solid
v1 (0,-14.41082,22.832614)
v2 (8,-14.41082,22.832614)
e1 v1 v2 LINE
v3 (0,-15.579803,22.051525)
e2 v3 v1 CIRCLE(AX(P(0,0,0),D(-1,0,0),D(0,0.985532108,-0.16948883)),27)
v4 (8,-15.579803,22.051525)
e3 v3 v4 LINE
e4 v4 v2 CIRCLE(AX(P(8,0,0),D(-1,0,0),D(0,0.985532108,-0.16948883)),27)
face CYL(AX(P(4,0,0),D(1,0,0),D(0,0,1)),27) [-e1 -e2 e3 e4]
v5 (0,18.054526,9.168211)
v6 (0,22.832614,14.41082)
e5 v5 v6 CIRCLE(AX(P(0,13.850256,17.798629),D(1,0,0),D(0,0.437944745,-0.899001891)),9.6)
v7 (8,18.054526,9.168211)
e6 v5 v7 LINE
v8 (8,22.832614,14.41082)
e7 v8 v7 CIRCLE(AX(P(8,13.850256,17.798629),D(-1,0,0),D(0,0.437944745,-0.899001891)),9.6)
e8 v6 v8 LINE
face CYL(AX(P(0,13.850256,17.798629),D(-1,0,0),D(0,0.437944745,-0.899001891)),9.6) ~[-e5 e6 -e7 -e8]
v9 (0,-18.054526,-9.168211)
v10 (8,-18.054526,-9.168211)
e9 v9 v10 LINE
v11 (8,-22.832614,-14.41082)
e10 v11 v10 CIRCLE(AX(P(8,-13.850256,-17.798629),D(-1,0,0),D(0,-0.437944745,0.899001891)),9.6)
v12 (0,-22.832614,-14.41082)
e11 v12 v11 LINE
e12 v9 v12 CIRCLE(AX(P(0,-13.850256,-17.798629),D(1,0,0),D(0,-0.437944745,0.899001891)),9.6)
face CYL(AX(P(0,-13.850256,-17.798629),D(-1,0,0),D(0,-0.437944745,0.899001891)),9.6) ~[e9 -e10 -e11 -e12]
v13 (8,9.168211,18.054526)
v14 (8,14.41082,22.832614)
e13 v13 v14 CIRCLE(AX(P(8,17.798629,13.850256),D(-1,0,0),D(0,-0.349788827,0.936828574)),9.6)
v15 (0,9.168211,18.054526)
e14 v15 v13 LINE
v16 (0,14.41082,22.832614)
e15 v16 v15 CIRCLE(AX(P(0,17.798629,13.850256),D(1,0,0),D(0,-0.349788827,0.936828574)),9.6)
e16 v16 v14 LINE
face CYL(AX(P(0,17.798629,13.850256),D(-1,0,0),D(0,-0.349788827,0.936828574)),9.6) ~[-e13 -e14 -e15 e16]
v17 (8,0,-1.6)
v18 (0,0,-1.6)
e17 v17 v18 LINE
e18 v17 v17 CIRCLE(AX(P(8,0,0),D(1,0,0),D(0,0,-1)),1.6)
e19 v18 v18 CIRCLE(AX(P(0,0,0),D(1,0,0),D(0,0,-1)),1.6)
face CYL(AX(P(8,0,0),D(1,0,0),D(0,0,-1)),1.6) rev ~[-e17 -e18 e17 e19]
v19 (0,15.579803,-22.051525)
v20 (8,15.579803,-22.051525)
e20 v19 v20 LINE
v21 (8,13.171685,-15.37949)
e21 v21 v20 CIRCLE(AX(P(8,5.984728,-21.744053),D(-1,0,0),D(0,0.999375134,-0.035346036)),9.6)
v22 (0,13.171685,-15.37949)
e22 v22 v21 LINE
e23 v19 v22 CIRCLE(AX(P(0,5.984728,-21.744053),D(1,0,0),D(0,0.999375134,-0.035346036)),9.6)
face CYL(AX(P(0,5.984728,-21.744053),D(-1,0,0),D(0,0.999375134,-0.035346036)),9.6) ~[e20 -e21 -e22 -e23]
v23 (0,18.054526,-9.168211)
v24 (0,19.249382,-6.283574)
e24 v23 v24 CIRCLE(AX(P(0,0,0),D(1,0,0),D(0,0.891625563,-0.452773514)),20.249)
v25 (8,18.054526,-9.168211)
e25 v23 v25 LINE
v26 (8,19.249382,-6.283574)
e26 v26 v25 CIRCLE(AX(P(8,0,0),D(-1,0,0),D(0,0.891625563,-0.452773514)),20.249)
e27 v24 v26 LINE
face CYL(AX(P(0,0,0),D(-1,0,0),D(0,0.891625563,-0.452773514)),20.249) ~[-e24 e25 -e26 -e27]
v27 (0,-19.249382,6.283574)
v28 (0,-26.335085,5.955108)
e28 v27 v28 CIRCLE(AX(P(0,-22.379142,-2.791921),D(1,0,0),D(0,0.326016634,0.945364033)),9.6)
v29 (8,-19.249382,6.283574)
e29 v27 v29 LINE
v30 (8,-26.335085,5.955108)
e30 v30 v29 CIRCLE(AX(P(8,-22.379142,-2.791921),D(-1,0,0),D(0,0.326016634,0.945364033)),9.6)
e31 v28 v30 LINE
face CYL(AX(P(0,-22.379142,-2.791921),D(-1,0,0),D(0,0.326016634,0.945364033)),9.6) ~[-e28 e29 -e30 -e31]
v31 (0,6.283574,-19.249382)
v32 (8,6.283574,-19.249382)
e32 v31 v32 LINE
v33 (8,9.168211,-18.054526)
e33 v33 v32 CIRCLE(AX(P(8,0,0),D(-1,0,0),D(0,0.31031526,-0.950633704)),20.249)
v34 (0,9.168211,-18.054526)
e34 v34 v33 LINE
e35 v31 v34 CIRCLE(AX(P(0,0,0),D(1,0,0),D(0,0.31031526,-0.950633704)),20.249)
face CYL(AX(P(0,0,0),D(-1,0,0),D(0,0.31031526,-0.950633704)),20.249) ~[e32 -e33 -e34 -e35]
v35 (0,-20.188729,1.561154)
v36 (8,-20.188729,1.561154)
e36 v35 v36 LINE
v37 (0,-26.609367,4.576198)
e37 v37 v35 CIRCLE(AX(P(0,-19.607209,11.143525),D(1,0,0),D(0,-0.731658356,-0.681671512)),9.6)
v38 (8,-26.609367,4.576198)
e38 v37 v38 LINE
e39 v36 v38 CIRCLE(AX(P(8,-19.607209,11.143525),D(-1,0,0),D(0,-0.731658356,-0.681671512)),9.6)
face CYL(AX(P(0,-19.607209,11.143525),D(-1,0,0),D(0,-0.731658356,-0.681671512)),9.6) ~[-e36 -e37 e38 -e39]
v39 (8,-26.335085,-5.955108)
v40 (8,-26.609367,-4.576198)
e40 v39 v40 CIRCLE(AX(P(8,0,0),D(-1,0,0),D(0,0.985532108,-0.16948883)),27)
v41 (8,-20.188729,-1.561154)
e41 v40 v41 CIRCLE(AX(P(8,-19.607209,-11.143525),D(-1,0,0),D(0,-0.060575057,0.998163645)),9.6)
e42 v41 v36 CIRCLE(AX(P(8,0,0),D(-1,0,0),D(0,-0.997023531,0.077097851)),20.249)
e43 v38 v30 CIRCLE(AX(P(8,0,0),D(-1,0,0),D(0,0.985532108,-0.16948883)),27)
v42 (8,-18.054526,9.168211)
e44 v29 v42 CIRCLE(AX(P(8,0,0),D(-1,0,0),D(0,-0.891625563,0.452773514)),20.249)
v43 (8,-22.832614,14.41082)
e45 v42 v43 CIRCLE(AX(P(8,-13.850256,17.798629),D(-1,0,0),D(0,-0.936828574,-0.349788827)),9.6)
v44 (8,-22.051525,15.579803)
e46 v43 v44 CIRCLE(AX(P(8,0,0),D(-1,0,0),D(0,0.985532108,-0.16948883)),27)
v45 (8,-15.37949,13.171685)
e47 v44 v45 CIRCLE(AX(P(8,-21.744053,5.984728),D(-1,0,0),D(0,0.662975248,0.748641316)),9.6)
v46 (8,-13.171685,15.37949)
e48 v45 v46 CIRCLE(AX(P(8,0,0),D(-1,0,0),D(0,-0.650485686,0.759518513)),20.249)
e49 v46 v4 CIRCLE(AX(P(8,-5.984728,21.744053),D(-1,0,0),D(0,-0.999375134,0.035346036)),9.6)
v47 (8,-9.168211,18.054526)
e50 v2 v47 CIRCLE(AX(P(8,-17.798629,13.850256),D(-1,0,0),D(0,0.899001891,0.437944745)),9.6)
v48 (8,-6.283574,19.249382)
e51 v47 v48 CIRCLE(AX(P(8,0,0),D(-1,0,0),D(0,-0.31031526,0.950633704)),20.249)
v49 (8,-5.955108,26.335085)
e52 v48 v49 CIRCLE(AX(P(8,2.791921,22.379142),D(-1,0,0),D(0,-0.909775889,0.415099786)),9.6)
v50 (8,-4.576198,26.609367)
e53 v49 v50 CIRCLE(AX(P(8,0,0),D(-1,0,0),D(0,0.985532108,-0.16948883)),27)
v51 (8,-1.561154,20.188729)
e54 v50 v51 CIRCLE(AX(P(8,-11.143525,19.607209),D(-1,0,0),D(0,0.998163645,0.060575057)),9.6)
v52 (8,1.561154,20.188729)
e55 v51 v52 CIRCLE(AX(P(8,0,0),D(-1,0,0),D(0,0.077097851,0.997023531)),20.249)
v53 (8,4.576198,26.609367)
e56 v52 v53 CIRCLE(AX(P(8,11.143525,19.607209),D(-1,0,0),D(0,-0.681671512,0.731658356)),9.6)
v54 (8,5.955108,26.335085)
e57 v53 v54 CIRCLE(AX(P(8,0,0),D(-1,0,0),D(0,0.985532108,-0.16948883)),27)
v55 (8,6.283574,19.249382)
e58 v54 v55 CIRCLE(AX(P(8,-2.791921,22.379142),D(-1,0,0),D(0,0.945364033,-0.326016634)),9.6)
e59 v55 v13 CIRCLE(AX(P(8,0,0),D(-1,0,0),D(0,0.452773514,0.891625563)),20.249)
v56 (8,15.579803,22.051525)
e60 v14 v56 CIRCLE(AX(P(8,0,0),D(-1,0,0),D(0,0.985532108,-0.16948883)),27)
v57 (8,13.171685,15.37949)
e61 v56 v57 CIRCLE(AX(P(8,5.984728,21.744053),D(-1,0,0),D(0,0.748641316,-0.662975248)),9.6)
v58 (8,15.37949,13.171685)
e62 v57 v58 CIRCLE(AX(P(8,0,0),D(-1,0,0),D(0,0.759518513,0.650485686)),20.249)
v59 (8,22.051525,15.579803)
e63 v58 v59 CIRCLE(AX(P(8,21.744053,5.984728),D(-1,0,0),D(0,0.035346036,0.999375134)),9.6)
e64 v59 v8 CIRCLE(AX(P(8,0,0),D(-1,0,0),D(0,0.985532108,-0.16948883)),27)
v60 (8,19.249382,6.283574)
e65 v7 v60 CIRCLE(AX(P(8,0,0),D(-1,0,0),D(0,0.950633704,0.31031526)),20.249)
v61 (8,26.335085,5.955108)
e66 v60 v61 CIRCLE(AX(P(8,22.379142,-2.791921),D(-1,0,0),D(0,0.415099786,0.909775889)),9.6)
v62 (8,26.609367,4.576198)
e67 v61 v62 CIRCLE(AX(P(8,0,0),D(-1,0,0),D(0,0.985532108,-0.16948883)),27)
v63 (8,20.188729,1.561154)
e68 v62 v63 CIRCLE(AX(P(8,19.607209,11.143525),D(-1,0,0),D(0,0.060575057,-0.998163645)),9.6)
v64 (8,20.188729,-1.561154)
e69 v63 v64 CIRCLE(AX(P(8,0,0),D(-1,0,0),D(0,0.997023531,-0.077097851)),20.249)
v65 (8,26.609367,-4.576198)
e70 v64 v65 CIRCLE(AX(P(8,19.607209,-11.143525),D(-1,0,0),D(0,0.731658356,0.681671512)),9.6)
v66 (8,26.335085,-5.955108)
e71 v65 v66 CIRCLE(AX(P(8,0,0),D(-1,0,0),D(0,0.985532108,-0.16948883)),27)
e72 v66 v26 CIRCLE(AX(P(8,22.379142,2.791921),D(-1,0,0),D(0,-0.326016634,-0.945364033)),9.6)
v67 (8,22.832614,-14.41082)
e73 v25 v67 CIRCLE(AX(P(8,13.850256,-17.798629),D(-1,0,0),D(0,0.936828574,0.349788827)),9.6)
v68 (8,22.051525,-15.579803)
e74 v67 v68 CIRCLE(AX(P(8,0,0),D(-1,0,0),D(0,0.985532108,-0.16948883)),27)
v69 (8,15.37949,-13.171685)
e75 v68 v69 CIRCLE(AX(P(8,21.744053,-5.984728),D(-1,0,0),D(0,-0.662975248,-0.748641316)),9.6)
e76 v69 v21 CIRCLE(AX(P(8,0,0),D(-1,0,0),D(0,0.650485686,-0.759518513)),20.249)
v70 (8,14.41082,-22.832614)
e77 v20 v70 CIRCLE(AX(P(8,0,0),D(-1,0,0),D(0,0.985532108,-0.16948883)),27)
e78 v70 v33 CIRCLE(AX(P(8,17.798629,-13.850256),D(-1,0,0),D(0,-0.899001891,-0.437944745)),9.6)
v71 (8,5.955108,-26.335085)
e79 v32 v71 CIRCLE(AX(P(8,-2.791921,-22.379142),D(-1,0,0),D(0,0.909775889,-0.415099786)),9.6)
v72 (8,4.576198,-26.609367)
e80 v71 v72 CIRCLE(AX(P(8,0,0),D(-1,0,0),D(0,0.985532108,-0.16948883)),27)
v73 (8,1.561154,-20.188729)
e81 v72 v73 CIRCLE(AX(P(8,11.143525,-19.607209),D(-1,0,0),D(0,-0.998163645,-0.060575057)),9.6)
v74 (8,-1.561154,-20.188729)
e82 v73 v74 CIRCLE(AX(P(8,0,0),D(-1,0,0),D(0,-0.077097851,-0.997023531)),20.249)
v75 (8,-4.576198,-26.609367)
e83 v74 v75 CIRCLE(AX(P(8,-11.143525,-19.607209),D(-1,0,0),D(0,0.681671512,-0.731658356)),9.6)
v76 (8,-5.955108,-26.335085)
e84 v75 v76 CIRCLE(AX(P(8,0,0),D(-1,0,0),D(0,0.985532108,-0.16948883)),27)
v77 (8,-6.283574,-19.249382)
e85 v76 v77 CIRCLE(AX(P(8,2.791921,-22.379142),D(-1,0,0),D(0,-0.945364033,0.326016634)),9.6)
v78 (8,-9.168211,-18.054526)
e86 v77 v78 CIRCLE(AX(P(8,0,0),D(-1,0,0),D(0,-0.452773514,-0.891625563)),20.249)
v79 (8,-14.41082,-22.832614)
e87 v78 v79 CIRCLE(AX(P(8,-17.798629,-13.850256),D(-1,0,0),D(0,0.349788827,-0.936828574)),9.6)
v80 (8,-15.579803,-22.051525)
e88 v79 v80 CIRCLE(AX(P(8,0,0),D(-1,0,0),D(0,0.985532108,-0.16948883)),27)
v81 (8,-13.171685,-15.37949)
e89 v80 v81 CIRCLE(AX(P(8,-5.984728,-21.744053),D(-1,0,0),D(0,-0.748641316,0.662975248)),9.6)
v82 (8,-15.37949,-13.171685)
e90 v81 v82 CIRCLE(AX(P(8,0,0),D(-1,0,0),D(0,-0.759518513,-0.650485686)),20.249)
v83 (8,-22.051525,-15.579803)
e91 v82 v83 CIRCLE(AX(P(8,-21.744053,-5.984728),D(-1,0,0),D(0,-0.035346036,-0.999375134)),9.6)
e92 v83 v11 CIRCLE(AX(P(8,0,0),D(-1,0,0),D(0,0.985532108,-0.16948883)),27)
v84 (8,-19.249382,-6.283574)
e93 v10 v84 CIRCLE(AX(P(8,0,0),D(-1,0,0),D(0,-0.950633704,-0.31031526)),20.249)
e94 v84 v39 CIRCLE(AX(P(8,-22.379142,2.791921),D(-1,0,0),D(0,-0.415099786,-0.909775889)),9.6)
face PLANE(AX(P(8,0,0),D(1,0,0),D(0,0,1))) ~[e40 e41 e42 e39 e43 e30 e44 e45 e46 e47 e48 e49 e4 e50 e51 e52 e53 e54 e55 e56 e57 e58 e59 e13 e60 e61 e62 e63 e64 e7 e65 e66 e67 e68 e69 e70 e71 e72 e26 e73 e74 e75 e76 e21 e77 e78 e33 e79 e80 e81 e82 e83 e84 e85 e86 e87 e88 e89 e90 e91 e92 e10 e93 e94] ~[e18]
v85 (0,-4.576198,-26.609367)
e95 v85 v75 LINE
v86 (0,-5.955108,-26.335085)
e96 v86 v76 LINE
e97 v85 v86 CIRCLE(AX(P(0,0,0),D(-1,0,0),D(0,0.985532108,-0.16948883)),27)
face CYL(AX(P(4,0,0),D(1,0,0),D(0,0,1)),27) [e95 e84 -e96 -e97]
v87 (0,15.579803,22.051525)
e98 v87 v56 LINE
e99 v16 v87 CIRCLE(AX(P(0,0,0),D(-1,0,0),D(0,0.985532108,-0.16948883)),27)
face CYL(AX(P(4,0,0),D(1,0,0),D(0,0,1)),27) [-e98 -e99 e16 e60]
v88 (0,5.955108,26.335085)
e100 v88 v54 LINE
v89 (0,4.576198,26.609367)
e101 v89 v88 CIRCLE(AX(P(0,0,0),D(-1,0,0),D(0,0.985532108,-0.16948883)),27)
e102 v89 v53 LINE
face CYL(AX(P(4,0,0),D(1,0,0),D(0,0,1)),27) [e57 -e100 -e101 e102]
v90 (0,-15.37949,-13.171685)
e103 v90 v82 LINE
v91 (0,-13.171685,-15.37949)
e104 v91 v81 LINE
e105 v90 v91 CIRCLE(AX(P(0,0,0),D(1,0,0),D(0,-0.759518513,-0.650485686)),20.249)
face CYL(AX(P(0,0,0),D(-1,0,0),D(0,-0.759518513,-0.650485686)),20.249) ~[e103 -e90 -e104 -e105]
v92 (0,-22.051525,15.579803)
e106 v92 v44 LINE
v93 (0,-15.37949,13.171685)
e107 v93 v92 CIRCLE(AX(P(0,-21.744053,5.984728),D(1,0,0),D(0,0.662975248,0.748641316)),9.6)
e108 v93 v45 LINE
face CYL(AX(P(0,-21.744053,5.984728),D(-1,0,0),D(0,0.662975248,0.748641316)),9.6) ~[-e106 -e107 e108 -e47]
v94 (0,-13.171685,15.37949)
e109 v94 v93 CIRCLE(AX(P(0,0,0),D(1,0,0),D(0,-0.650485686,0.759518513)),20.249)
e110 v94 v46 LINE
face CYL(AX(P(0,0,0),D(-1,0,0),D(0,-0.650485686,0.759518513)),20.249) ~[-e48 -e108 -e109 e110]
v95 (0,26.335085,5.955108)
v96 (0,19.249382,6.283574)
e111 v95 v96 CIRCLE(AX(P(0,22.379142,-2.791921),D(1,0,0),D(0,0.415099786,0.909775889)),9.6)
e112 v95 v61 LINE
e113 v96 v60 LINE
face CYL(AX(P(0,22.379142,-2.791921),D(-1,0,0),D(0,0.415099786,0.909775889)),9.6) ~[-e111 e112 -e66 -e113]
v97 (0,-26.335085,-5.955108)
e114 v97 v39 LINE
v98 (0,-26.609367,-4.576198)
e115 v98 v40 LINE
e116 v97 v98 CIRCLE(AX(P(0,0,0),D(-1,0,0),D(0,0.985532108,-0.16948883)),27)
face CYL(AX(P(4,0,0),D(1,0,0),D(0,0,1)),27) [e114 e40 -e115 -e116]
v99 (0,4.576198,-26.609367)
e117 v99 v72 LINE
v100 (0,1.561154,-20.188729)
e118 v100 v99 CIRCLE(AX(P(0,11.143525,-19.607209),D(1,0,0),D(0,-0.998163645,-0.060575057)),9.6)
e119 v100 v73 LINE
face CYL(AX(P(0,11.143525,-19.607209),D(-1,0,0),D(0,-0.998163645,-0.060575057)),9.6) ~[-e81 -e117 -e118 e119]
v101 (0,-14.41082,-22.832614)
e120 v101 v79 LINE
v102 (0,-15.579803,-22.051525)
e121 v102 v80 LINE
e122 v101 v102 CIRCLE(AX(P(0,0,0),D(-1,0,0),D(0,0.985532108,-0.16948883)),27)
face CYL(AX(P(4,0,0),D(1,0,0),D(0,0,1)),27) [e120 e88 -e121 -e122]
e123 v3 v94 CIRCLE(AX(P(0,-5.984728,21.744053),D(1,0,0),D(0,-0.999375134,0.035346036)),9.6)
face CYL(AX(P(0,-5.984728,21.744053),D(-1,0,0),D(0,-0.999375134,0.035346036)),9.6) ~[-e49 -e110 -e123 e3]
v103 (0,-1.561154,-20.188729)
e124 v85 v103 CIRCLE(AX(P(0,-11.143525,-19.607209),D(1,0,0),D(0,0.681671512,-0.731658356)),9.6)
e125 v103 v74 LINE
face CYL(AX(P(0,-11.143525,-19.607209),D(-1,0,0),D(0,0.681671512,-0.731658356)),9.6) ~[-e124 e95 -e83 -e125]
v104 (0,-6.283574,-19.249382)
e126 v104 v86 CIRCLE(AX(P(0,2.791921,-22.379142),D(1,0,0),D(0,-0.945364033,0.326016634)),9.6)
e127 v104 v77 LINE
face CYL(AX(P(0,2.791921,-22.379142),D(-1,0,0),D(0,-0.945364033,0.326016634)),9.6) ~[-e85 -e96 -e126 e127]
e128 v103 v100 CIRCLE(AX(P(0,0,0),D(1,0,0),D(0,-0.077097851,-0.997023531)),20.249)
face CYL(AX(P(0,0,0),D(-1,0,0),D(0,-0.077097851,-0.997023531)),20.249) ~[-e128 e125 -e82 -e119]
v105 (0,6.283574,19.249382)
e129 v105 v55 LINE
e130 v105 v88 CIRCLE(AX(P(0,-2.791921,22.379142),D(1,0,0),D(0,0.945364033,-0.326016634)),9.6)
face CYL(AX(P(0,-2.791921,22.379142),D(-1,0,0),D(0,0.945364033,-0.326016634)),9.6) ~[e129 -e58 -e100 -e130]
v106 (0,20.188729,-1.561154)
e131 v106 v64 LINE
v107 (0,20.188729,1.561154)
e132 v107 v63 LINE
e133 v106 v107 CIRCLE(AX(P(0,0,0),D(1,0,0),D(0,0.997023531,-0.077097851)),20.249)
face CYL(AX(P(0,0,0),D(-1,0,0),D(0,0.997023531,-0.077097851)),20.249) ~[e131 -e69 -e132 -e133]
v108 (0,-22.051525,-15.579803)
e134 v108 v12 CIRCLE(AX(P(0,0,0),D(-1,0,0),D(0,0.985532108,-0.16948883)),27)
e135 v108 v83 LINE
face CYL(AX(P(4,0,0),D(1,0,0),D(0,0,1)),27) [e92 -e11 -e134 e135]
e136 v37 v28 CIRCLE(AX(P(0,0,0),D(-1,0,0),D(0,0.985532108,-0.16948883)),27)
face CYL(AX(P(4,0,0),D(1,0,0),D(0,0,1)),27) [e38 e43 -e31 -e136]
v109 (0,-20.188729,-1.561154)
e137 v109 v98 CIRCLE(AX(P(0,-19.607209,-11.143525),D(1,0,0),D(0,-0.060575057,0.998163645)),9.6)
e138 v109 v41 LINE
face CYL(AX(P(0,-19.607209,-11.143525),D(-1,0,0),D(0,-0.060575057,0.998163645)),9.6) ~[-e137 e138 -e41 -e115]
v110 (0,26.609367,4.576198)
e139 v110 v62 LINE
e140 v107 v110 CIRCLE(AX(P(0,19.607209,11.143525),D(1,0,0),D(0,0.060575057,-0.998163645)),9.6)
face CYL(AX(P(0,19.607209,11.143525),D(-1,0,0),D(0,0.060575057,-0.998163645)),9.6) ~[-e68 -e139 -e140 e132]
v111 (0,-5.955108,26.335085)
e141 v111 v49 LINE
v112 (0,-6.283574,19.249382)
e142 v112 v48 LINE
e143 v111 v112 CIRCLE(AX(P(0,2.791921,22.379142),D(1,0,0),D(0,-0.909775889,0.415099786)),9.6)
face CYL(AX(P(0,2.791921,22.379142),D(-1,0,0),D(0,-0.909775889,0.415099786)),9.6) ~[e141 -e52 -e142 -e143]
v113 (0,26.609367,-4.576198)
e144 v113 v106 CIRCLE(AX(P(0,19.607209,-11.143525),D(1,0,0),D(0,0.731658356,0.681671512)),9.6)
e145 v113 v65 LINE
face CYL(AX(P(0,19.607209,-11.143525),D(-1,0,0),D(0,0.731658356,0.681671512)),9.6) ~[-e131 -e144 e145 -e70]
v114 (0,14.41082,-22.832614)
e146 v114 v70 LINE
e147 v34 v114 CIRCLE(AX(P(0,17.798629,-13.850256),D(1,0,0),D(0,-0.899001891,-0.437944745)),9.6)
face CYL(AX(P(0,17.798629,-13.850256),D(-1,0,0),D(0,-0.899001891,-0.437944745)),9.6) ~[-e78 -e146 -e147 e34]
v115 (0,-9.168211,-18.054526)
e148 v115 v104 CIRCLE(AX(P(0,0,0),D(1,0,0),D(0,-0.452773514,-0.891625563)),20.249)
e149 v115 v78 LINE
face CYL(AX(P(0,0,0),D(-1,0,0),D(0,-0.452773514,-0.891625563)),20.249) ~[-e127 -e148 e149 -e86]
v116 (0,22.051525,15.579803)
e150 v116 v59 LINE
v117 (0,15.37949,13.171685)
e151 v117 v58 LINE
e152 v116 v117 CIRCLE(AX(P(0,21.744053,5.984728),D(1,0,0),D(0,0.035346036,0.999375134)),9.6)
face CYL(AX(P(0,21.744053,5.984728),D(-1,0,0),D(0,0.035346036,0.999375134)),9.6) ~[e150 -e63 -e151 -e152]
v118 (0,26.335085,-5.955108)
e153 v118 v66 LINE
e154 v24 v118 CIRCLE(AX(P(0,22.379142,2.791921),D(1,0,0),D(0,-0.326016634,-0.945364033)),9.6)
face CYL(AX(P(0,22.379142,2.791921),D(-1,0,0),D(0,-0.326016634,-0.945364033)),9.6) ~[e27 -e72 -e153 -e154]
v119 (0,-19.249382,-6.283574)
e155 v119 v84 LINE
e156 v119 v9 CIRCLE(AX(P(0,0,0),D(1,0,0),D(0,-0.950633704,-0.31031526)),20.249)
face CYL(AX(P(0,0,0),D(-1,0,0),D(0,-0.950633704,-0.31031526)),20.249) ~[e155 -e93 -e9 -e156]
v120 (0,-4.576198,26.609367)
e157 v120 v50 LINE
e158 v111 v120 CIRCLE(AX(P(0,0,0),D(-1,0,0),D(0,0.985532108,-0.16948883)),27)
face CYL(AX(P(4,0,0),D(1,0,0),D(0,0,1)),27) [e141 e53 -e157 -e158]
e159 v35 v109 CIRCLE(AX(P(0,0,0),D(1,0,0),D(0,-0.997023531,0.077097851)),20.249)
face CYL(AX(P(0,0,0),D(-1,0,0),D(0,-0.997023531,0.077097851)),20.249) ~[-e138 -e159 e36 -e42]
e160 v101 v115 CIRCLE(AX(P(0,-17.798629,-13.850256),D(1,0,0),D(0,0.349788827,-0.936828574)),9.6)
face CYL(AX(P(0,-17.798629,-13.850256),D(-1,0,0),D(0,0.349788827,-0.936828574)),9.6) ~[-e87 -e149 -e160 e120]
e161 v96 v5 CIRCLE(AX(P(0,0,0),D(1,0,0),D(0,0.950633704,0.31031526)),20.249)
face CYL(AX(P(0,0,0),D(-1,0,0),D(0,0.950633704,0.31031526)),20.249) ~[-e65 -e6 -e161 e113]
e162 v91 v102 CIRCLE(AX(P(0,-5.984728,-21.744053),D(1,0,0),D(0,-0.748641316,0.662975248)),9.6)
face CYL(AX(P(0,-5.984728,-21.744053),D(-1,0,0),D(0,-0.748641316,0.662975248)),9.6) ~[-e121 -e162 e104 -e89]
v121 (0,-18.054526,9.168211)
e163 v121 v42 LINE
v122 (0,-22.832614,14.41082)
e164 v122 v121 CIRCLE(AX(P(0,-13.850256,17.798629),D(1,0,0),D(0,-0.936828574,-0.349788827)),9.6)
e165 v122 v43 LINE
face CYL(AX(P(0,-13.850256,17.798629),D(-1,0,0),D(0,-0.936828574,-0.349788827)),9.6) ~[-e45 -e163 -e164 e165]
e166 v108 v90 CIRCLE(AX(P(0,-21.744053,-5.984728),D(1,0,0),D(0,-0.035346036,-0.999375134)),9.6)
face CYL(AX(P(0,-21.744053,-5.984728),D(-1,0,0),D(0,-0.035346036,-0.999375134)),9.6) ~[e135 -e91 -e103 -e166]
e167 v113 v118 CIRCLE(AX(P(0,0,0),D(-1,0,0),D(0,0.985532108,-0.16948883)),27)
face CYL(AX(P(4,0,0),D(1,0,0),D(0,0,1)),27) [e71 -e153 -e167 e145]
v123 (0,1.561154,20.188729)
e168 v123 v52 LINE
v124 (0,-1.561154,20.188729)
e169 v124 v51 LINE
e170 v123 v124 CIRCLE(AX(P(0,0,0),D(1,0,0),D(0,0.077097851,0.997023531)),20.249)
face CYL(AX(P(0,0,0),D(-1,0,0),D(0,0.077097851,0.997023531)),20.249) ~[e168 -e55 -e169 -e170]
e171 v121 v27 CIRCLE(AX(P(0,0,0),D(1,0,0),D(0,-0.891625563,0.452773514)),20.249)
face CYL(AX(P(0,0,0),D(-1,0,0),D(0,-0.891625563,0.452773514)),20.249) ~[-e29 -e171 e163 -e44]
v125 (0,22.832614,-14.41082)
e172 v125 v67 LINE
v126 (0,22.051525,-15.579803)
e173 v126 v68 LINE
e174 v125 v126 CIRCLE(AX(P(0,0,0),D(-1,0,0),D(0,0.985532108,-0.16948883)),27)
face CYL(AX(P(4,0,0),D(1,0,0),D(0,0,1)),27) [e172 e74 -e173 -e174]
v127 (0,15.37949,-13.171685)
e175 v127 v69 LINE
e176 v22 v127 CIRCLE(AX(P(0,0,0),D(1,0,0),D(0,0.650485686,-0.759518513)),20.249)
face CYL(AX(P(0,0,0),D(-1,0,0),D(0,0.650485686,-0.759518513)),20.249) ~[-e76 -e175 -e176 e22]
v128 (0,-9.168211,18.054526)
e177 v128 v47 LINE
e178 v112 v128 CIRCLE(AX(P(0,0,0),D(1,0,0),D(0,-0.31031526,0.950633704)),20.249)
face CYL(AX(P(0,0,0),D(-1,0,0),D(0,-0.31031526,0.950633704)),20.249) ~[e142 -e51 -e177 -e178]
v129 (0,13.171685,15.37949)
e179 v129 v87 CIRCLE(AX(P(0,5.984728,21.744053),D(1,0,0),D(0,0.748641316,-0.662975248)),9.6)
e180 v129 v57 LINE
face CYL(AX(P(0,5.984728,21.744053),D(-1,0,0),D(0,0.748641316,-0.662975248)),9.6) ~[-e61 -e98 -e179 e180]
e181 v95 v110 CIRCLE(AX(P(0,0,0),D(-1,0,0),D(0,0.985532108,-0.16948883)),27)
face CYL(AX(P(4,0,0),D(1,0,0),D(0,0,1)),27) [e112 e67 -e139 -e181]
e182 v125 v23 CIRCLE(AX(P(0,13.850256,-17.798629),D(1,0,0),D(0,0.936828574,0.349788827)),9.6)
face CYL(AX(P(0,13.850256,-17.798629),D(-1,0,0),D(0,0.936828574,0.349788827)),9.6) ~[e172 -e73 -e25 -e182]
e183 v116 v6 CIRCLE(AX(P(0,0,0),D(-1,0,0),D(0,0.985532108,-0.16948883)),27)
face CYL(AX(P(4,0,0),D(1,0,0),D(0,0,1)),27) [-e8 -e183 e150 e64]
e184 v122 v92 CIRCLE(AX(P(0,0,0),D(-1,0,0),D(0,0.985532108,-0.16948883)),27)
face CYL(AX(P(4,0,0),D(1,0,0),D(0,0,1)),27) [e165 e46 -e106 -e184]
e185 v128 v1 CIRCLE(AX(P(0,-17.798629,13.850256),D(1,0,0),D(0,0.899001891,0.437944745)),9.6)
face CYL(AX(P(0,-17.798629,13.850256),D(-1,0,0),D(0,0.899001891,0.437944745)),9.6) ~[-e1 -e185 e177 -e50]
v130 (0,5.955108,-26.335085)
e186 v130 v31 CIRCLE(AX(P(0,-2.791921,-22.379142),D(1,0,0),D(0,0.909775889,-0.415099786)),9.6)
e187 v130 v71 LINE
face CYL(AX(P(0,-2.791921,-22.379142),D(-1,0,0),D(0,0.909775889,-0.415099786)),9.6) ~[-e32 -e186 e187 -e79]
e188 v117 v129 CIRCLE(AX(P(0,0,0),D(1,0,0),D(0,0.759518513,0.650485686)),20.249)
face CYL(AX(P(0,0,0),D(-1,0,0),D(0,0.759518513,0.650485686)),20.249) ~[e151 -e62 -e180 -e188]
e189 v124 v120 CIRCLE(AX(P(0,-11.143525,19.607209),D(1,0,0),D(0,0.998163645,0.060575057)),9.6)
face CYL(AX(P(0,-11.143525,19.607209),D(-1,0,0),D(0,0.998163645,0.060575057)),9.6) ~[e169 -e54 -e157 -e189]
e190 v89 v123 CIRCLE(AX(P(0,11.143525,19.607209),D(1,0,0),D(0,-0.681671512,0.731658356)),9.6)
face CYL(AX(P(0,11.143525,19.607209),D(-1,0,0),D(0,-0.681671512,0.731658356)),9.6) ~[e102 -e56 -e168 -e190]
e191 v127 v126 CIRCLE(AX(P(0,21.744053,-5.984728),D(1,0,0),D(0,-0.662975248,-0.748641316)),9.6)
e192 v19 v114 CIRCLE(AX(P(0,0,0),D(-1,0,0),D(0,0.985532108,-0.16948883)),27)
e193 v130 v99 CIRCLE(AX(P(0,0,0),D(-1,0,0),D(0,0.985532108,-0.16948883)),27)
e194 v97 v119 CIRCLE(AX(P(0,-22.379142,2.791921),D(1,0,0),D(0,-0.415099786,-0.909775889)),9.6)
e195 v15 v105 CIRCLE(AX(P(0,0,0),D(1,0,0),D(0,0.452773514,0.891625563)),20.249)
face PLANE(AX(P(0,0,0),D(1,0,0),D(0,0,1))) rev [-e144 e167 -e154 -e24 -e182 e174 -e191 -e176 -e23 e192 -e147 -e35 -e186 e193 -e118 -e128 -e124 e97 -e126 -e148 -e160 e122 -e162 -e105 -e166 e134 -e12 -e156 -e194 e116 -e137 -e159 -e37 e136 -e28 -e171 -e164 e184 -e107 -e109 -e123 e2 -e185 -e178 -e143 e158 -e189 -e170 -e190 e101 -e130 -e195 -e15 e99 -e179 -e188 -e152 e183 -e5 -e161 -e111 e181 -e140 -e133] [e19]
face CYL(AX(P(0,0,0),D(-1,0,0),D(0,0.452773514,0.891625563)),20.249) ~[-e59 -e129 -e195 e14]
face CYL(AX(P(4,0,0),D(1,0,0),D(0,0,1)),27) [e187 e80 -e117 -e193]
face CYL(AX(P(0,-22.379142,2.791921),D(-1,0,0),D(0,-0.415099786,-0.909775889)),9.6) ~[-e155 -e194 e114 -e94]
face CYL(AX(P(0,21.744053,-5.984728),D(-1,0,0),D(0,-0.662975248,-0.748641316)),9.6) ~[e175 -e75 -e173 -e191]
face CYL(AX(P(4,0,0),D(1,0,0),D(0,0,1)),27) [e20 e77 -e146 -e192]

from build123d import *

# Parameters (mm, degrees)
BASPROSKE_W         = 8
BASPROSKE_H         = 27
TOOTHCUT_DEPTH      = 40.012818406
TEETHCUTS_COUNT     = 16
TEETHCUTS_ANGLE     = 337.5
BORSKE_R            = 0.4
BORE_DEPTH          = 50.0000508
SKETCH_1_R          = 1.6
CUT_EXTRUDE_1_DEPTH = 10


with BuildPart() as part:
    # BasProSke → Base-Revolve (revolve)
    with BuildSketch(Plane(origin=(0, 0, 0), x_dir=(1, 0, 0), z_dir=(0, 1, 0))):
        with Locations((4, 13.5)):
            Rectangle(BASPROSKE_W, BASPROSKE_H)
    revolve(axis=Axis((-10, 0, 0), (1, 0, 0)))

    # TooCutSke → ToothCut (cut, through all)
    with BuildSketch(Plane(origin=(0, 0, 0), x_dir=(0, 0, -1), z_dir=(1, 0, 0))):
        with BuildLine():
            ThreePointArc((1.561154384, 20.188729479), (0, 20.249), (-1.561154384, 20.188729479))
            ThreePointArc((-1.561154384, 20.188729479), (-2.460699582, 23.702149247), (-4.599478859, 26.631129142))
            ThreePointArc((-4.599478859, 26.631129142), (0, 27.0254), (4.599478859, 26.631129142))
            ThreePointArc((4.599478859, 26.631129142), (2.460699582, 23.702149247), (1.561154384, 20.188729479))
        make_face()
    toothcut = extrude(amount=TOOTHCUT_DEPTH, mode=Mode.SUBTRACT)

    # TeethCuts: ToothCut ×16 about axis
    teethcuts_axis = Axis((-10, 0, 0), (1, 0, 0))
    for i in range(1, TEETHCUTS_COUNT):
        add(toothcut.rotate(teethcuts_axis, i * TEETHCUTS_ANGLE / (TEETHCUTS_COUNT - 1)), mode=Mode.SUBTRACT)

    # BorSke → Bore (cut, symmetric)
    with BuildSketch(Plane(origin=(0, 0, 0), x_dir=(0, 0, -1), z_dir=(1, 0, 0))):
        Circle(BORSKE_R)
    extrude(amount=BORE_DEPTH, both=True, mode=Mode.SUBTRACT)

    # 草图1 → 切除-拉伸1 (cut)
    with BuildSketch(Plane(origin=(8, 0, 0), x_dir=(0, 0, -1), z_dir=(1, 0, 0))):
        Circle(SKETCH_1_R)
    extrude(amount=-CUT_EXTRUDE_1_DEPTH, mode=Mode.SUBTRACT)


solid = part.part
